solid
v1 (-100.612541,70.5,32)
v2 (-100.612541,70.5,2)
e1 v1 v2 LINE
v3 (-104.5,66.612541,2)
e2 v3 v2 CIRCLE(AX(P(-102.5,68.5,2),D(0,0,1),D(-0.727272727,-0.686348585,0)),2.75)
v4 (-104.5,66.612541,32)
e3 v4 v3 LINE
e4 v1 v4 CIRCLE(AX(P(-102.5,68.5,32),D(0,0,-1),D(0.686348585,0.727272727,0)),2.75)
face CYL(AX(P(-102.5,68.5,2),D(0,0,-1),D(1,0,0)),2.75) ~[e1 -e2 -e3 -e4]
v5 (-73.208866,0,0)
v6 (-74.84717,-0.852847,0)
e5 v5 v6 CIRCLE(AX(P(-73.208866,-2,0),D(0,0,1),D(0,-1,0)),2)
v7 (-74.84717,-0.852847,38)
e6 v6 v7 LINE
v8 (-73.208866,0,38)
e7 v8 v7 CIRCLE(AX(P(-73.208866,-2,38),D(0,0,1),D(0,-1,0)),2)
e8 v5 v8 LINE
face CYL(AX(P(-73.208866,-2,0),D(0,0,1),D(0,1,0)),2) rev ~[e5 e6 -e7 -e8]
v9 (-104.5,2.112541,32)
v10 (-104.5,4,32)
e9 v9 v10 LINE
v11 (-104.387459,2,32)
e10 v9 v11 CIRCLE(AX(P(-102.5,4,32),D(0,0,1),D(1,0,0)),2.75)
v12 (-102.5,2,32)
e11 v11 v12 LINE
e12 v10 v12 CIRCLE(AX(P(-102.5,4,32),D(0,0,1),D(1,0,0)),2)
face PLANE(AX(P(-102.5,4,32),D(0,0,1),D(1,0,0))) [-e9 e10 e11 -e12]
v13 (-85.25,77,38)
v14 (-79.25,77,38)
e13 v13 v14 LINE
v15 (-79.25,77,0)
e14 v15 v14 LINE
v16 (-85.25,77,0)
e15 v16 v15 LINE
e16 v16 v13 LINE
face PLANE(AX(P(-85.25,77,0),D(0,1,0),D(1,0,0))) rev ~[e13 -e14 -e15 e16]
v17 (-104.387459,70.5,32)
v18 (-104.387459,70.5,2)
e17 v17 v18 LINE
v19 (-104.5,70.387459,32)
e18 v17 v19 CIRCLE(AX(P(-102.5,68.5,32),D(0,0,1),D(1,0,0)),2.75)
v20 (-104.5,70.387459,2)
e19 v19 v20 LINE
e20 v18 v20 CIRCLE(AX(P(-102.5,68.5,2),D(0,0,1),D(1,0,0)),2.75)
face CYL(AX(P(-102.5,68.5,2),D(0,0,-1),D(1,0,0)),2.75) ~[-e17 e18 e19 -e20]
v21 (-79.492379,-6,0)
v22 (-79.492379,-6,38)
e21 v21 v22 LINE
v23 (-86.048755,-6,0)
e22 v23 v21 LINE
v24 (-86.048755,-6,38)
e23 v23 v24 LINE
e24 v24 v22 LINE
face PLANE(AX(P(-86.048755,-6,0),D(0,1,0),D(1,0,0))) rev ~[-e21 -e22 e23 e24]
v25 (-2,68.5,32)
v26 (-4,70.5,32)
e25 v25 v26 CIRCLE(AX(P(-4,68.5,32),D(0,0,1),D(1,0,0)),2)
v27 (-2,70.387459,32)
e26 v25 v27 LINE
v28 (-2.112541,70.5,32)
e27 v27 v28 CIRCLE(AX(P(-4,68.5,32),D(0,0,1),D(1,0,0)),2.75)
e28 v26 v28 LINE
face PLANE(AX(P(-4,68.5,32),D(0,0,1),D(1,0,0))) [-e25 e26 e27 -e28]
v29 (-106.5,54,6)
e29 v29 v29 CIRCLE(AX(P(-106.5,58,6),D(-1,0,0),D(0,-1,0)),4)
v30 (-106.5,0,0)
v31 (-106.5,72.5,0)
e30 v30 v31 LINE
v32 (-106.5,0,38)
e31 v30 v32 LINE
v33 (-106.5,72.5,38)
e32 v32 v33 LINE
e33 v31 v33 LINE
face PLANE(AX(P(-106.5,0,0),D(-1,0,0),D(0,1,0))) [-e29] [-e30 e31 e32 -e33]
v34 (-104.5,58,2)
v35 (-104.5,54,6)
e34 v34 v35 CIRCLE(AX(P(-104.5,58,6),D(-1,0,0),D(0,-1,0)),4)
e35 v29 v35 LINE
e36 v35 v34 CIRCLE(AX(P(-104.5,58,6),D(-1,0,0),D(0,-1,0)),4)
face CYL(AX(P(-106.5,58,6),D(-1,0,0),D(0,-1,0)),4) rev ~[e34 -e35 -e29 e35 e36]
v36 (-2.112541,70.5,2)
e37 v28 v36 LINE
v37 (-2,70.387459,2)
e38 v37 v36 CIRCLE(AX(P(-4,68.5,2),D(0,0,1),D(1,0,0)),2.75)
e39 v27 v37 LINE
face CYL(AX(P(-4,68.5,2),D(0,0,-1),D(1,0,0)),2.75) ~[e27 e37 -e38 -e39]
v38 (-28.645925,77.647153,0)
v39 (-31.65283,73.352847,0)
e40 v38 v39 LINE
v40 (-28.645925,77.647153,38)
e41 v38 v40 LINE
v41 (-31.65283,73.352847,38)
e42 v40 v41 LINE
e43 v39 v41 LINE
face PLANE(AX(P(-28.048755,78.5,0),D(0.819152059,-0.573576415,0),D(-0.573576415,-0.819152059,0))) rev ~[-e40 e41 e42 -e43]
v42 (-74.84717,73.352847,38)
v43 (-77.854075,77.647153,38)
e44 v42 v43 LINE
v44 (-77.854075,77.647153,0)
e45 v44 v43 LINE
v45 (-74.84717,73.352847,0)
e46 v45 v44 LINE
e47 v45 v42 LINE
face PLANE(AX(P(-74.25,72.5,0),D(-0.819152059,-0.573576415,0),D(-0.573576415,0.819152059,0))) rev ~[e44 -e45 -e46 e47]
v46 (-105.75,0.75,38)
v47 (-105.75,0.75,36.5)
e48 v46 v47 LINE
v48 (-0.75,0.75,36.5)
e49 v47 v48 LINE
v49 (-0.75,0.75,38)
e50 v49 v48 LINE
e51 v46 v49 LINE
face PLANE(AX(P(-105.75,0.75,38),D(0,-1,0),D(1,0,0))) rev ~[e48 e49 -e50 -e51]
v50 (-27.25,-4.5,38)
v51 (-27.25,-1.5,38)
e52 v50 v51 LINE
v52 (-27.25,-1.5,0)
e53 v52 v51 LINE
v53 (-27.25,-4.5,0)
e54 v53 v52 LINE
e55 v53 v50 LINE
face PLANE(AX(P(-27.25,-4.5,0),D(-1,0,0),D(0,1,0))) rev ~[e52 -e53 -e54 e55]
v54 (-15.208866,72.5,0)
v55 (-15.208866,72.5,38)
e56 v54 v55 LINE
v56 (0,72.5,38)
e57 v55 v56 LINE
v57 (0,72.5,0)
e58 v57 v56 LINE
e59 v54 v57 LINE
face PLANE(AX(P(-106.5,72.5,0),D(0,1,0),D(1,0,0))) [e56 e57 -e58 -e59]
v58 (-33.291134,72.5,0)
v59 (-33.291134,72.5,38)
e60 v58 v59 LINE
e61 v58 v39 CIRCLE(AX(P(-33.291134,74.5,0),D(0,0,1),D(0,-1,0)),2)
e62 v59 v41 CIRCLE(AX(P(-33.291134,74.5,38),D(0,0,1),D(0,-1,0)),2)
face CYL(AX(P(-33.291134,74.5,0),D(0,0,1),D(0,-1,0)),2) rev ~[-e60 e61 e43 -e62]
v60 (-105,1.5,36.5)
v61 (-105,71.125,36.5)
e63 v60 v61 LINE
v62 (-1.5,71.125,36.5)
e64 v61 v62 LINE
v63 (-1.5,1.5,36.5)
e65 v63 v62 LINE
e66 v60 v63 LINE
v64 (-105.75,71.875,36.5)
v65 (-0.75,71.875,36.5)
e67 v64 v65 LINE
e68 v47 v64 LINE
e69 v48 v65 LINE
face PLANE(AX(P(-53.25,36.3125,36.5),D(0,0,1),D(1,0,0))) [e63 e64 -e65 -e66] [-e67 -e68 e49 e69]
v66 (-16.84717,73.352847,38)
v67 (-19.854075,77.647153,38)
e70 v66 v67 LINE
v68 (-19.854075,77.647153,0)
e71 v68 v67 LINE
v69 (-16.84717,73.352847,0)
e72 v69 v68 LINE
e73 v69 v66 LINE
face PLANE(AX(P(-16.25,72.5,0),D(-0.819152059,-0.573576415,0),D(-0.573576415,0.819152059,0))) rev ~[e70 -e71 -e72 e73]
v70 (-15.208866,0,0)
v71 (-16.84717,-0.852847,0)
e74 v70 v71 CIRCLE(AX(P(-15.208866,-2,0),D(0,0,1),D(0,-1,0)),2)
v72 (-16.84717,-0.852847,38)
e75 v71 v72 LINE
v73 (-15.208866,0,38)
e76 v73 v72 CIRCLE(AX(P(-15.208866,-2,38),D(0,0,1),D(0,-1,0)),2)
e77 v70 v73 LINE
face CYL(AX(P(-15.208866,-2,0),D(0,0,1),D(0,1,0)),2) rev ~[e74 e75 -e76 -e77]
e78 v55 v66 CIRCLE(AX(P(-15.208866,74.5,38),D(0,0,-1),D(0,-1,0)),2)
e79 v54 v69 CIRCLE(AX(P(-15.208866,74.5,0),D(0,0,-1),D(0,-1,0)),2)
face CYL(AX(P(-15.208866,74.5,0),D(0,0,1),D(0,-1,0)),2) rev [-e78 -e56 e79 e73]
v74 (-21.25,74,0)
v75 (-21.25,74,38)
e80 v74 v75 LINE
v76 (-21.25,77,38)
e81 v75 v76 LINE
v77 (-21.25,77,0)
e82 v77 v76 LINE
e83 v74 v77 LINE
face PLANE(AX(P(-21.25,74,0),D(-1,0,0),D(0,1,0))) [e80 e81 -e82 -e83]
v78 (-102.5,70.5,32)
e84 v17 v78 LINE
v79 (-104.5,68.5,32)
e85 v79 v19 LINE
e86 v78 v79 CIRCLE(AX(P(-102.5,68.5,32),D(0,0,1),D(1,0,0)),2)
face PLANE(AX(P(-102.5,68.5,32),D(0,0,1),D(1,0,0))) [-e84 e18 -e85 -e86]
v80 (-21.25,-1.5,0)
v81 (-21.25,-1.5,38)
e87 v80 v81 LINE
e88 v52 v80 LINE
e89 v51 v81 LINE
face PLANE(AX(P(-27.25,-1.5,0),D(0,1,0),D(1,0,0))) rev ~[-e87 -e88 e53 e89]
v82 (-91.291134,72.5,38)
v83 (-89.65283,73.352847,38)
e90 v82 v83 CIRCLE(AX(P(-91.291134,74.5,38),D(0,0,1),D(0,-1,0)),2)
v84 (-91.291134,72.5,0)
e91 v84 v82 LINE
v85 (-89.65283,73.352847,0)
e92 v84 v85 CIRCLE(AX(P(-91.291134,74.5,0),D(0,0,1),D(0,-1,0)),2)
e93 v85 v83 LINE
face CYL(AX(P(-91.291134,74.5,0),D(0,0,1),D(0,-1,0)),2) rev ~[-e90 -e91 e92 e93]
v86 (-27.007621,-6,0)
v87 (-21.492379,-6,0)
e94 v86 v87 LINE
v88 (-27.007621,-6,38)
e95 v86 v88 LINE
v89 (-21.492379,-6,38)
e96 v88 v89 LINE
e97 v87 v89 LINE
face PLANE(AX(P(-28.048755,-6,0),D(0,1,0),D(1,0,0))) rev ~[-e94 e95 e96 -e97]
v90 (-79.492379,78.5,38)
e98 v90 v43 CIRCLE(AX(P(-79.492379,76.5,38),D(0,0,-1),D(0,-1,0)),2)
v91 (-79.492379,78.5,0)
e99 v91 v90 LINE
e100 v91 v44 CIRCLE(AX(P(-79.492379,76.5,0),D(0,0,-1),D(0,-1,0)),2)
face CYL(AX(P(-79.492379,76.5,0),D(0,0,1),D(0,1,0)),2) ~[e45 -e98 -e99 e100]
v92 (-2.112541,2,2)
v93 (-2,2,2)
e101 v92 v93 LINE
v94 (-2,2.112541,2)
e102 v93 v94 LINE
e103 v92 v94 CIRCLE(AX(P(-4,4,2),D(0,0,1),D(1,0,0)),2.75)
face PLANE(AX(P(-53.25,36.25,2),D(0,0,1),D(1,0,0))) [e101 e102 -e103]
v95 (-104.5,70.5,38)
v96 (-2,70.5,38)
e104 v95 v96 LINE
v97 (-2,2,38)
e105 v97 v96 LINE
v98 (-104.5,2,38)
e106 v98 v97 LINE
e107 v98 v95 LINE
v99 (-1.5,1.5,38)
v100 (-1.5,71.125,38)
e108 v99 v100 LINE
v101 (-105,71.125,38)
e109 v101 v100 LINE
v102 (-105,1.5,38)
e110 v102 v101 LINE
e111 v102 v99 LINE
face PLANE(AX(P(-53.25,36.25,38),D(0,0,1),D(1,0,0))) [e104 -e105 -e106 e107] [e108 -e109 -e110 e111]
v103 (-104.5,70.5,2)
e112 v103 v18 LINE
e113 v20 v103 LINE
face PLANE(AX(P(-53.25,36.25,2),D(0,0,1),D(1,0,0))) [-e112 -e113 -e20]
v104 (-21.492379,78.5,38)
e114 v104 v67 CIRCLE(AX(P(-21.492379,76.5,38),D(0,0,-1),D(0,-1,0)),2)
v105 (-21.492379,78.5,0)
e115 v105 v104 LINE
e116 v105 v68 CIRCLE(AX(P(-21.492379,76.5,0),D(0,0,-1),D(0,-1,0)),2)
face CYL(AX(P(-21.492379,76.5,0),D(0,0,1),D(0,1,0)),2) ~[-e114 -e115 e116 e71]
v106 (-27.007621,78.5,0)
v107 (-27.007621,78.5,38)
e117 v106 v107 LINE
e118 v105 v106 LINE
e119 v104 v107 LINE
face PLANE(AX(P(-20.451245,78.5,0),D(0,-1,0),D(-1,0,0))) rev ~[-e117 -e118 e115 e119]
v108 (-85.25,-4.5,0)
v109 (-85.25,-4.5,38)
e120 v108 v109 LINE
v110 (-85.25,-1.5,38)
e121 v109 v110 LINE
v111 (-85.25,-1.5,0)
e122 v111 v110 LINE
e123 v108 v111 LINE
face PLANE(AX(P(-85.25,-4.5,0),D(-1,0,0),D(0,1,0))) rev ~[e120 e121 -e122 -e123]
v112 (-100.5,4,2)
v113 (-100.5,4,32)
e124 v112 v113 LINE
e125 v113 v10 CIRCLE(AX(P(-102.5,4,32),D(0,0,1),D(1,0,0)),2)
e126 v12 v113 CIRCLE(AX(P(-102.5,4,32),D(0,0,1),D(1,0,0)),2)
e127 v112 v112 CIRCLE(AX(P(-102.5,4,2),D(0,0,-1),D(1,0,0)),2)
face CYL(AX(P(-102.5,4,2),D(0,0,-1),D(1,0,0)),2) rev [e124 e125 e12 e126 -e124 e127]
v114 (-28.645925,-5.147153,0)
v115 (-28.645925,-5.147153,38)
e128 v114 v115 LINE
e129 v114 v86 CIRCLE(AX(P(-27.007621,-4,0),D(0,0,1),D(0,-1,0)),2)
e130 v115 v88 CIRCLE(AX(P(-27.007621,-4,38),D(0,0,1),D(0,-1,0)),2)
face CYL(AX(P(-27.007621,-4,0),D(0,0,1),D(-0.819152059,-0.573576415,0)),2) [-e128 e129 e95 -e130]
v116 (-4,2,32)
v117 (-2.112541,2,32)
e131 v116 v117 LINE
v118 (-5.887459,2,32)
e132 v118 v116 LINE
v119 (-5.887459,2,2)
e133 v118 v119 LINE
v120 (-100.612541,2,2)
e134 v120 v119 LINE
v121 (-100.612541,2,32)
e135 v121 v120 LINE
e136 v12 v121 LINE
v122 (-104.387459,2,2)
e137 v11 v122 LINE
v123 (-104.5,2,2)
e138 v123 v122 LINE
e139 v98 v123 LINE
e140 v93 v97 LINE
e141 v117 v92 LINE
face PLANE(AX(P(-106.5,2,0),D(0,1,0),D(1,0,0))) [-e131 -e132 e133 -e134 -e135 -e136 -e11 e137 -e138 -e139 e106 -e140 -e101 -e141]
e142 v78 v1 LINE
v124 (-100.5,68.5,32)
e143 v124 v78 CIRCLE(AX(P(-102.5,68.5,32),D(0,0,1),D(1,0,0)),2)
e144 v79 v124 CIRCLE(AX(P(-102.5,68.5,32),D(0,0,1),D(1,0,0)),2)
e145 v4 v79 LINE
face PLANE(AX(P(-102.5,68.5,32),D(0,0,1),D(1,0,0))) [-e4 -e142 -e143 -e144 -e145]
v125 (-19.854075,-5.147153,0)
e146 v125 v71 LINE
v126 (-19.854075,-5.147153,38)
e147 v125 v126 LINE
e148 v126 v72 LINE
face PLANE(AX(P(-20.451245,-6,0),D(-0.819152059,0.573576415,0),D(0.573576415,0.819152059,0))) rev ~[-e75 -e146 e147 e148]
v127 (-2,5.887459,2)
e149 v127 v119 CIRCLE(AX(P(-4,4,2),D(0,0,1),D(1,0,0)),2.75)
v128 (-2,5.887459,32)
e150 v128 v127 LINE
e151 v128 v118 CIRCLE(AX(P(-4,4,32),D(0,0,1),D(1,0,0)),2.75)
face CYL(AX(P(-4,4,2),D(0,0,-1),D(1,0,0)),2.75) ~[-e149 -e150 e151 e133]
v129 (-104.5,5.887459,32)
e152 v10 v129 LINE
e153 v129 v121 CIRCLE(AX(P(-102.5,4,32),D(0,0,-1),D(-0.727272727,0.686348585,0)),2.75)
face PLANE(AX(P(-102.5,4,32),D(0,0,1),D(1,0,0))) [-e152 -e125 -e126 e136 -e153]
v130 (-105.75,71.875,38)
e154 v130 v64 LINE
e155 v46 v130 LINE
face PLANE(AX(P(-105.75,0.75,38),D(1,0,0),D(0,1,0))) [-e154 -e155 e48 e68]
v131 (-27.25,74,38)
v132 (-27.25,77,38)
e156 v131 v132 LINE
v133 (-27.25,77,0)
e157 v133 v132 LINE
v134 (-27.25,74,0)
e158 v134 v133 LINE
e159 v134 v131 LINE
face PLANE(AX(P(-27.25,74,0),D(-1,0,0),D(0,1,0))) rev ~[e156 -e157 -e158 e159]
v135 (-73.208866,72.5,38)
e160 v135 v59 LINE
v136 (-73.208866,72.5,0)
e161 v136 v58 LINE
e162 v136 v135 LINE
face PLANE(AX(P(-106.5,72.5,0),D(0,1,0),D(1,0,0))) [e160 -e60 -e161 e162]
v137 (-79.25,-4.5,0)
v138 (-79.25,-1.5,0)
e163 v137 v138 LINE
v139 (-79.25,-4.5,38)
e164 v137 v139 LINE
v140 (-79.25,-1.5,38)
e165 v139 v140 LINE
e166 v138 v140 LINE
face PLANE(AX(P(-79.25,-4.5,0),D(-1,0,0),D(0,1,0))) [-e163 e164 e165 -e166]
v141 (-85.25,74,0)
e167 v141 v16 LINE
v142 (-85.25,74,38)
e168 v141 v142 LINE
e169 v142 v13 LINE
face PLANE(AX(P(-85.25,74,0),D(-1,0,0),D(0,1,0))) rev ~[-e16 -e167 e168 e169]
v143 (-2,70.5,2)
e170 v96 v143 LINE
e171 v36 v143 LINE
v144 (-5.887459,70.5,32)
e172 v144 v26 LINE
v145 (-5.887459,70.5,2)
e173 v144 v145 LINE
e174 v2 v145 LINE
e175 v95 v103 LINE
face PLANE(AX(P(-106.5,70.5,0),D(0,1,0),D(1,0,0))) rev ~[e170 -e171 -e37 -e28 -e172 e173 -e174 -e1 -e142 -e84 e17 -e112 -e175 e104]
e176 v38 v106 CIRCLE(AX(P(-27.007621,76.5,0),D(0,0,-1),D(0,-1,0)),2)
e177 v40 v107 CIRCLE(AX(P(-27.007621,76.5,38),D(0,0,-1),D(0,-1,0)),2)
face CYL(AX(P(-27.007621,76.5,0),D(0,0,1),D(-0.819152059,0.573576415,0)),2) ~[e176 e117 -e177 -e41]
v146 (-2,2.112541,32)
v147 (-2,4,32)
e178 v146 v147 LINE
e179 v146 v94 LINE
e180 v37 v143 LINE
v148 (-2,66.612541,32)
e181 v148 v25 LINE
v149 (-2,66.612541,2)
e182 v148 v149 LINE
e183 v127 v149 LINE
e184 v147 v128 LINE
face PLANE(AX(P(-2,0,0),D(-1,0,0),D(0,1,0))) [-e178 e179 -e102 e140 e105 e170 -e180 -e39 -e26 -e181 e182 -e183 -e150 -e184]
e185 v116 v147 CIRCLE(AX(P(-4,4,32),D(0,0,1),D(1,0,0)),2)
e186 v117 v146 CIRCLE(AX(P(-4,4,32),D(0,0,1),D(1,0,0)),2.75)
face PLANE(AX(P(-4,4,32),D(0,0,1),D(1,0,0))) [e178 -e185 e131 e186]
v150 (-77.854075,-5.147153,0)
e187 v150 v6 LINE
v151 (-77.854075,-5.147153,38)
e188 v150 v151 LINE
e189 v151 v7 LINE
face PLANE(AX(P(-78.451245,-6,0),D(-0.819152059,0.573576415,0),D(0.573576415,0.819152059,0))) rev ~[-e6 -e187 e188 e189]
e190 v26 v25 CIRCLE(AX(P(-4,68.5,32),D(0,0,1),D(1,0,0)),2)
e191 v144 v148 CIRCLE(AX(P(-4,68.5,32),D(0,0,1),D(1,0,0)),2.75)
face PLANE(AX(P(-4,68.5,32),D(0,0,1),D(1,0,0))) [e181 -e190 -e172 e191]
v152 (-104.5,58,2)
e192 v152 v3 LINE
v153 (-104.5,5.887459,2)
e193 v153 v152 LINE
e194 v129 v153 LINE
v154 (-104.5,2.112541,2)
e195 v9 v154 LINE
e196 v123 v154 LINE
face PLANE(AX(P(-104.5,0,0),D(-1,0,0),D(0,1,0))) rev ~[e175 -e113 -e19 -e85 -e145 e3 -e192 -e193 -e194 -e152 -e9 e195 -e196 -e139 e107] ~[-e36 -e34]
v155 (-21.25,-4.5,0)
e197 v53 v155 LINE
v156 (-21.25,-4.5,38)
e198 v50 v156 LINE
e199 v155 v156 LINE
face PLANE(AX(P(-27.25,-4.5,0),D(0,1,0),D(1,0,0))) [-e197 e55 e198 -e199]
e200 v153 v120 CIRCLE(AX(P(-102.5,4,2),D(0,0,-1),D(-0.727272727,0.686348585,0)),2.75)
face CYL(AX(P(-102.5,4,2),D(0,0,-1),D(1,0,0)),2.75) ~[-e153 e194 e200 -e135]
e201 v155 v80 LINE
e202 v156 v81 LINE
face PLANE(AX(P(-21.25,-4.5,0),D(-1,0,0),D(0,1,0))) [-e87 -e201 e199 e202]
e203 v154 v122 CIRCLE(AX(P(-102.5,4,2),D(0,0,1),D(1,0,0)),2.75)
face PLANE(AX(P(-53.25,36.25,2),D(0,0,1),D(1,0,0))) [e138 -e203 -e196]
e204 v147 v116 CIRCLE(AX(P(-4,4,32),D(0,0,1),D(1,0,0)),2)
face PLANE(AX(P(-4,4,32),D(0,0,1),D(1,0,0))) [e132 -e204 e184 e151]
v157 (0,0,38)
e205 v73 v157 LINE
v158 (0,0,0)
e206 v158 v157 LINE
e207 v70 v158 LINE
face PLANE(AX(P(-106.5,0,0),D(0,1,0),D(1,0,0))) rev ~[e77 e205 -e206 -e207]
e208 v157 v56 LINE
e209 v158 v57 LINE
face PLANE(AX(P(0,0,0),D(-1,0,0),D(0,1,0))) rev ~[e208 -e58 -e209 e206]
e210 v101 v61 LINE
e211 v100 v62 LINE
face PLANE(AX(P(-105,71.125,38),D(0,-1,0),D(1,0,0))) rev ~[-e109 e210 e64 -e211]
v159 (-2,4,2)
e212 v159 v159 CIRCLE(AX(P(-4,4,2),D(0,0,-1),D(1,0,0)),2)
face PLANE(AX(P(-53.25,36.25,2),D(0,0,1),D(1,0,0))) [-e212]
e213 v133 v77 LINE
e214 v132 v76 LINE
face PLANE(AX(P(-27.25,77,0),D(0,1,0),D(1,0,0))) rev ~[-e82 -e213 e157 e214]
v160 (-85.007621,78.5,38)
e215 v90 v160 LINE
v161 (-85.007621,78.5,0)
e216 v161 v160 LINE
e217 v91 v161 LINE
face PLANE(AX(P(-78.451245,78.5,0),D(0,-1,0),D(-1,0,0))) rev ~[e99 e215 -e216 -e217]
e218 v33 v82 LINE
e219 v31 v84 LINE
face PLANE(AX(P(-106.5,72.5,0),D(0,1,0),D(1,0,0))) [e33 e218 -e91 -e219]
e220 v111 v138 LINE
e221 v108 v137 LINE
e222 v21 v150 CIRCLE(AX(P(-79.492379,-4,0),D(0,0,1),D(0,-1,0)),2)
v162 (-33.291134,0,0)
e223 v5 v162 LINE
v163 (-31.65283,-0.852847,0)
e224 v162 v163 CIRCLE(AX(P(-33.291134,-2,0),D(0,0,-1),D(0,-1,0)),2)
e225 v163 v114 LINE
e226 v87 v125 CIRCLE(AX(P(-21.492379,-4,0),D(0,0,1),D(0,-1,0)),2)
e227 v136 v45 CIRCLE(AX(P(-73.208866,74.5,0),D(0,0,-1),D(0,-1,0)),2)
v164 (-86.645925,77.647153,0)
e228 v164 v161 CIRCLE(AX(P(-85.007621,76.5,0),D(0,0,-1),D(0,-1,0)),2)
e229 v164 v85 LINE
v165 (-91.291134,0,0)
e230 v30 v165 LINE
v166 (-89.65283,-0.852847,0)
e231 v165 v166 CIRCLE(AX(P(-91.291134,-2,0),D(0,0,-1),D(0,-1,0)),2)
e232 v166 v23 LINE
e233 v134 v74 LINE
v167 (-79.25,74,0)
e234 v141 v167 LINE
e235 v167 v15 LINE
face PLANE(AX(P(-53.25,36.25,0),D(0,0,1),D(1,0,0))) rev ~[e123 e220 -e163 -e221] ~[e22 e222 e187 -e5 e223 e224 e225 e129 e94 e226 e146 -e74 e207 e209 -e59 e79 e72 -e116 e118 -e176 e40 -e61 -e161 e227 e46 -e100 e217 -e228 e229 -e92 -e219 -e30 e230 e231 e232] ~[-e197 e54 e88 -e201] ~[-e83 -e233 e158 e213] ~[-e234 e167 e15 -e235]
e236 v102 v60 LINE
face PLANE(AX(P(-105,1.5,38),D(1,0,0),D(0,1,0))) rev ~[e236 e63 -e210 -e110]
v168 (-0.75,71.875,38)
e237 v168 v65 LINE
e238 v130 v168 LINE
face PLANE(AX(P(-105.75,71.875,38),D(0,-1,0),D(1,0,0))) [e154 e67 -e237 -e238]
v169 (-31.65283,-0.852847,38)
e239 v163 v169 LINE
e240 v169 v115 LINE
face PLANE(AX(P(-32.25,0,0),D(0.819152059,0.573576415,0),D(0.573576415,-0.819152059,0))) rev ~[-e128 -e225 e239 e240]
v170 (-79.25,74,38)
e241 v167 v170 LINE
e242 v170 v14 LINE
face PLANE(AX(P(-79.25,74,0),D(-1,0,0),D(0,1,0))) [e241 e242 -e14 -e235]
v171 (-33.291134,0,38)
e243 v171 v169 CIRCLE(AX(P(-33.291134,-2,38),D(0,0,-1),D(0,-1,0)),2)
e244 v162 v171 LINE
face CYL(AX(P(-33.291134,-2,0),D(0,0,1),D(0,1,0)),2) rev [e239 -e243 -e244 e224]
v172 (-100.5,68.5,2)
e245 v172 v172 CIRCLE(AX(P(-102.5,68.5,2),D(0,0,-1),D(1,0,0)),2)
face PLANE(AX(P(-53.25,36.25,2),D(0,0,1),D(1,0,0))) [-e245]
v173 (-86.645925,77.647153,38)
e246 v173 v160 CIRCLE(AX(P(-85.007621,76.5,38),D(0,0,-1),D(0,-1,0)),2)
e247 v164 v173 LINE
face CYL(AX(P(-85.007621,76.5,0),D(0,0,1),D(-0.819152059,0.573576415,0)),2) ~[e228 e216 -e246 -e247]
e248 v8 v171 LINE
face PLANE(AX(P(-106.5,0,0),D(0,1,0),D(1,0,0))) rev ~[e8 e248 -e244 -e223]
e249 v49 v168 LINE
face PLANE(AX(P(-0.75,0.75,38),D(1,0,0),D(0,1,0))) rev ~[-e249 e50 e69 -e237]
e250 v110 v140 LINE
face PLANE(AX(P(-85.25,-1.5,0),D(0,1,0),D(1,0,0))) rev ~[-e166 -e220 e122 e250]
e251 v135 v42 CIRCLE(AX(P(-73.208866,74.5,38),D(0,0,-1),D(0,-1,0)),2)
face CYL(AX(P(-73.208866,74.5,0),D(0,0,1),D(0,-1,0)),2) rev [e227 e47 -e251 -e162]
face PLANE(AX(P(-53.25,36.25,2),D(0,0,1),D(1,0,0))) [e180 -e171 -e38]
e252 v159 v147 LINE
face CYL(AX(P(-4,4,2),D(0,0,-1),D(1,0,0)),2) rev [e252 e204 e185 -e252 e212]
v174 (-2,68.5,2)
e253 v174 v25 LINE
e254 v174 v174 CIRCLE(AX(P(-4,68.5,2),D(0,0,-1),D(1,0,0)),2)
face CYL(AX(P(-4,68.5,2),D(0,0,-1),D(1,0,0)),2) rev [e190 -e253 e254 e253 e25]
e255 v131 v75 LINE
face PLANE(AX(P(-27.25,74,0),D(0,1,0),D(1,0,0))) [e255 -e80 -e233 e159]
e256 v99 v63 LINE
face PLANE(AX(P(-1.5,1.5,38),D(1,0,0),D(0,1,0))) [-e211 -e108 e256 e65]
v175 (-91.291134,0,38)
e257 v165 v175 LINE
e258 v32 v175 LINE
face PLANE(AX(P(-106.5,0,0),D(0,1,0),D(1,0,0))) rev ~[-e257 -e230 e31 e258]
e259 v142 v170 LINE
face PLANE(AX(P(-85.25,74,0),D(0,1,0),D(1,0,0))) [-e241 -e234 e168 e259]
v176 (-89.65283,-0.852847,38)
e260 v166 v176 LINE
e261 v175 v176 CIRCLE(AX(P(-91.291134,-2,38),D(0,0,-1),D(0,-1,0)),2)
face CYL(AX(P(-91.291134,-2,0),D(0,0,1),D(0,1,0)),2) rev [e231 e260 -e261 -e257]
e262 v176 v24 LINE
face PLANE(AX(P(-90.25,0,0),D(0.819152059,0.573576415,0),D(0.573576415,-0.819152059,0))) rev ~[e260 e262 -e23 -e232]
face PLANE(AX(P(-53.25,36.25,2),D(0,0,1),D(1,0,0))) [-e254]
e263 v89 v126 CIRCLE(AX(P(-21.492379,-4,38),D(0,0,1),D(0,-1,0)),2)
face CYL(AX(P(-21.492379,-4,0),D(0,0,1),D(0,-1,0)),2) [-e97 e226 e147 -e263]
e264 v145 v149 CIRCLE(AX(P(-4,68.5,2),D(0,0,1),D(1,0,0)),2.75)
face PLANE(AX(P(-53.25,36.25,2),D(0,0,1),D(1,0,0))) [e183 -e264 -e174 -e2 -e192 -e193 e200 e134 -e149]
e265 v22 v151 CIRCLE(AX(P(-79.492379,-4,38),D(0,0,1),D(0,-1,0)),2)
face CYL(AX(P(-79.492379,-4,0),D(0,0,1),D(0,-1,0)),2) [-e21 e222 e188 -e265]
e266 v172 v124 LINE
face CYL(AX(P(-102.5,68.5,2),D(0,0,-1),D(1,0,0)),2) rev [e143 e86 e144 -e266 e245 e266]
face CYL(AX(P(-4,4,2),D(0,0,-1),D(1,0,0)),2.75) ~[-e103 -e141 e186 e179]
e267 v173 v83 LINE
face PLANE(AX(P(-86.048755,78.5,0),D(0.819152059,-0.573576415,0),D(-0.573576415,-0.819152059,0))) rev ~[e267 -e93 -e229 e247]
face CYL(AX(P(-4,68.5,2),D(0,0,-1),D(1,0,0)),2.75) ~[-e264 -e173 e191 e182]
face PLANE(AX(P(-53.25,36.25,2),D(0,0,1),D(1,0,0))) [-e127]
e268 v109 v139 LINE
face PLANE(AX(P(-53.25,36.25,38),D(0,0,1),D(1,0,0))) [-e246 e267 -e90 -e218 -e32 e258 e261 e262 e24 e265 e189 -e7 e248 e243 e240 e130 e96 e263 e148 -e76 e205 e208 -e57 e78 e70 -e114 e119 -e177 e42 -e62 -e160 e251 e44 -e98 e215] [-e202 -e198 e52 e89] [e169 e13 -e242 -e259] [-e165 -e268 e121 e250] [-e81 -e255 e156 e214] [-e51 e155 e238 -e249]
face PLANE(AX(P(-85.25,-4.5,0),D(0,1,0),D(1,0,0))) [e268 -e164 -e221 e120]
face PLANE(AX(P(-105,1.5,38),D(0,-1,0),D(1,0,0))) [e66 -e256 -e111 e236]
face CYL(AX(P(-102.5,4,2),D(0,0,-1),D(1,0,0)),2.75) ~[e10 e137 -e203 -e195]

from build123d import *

# Parameters (mm, degrees)
F0_W      = 106.5
F0_H      = 72.5
F1_DEPTH  = 38
F2_T      = -2
F3_W      = 6
F3_H      = 3
F4_DEPTH  = 38
F5_R      = 2
F6_R      = 4
F7_DEPTH  = 2
F8_R      = 2.75
F8_R_2    = 2
F9_DEPTH  = 30
F10_W     = 105
F10_H     = 71.125
F10_W_2   = 103.5
F10_H_2   = 69.625
F11_DEPTH = 1.5


with BuildPart() as f1:
    # F0 (on Top) → F1 (new body)
    with BuildSketch(Plane.XY):
        with Locations((-53.25, 36.25)):
            Rectangle(F0_W, F0_H)
    extrude(amount=F1_DEPTH)

    # F2
    f2_openings = [f1.faces().sort_by_distance(p)[0] for p in [
        (-53.25, 36.25, 38),
    ]]
    offset(amount=F2_T, openings=f2_openings)

    # F3 (on Top) → F4 (join)
    with BuildSketch(Plane.XY):
        Polygon((-28.048755, 78.5), (-32.25, 72.5), (-16.25, 72.5), (-20.451245, 78.5), align=None)
        with Locations((-24.25, 75.5)):
            Rectangle(F3_W, F3_H, mode=Mode.SUBTRACT)
        Polygon((-74.25, 72.5), (-78.451245, 78.5), (-86.048755, 78.5), (-90.25, 72.5), align=None)
        with Locations((-82.25, 75.5)):
            Rectangle(F3_W, F3_H, mode=Mode.SUBTRACT)
        Polygon((-74.25, 0), (-90.25, 0), (-86.048755, -6), (-78.451245, -6), align=None)
        with Locations((-82.25, -3)):
            Rectangle(F3_W, F3_H, mode=Mode.SUBTRACT)
        Polygon((-32.25, 0), (-28.048755, -6), (-20.451245, -6), (-16.25, 0), align=None)
        with Locations((-24.25, -3)):
            Rectangle(F3_W, F3_H, mode=Mode.SUBTRACT)
    extrude(amount=F4_DEPTH)

    # F5
    f5_edges = [f1.edges().sort_by_distance(p)[0] for p in [
        (-86.048755, 78.5, 19),
        (-78.451245, 78.5, 19),
        (-74.25, 72.5, 19),
        (-90.25, 72.5, 19),
        (-32.25, 72.5, 19),
        (-28.048755, 78.5, 19),
        (-20.451245, 78.5, 19),
        (-16.25, 72.5, 19),
        (-74.25, 0, 19),
        (-78.451245, -6, 19),
        (-90.25, 0, 19),
        (-32.25, 0, 19),
        (-28.048755, -6, 19),
        (-20.451245, -6, 19),
        (-16.25, 0, 19),
    ]]
    fillet(f5_edges, radius=F5_R)

    # F6 (on face) → F7 (cut, through all)
    with BuildSketch(Plane(origin=(-106.5, 0, 0), x_dir=(0, -1, 0), z_dir=(-1, 0, 0))):
        with Locations((-58, 6)):
            Circle(F6_R)
    extrude(amount=-F7_DEPTH, mode=Mode.SUBTRACT)

    # F8 (on face) → F9 (join)
    with BuildSketch(Plane.XY.offset(2)):
        with Locations((-102.5, 68.5)):
            Circle(F8_R)
        with Locations((-102.5, 68.5)):
            Circle(F8_R_2, mode=Mode.SUBTRACT)
        with Locations((-4, 68.5)):
            Circle(F8_R)
        with Locations((-4, 68.5)):
            Circle(F8_R_2, mode=Mode.SUBTRACT)
        with Locations((-4, 4)):
            Circle(F8_R)
        with Locations((-4, 4)):
            Circle(F8_R_2, mode=Mode.SUBTRACT)
        with Locations((-102.5, 4)):
            Circle(F8_R)
        with Locations((-102.5, 4)):
            Circle(F8_R_2, mode=Mode.SUBTRACT)
    extrude(amount=F9_DEPTH)

    # F10 (on face) → F11 (cut)
    with BuildSketch(Plane.XY.offset(38)):
        with Locations((-53.25, 36.3125)):
            Rectangle(F10_W, F10_H)
        with Locations((-53.25, 36.3125)):
            Rectangle(F10_W_2, F10_H_2, mode=Mode.SUBTRACT)
    extrude(amount=-F11_DEPTH, mode=Mode.SUBTRACT)


solid = f1.part
